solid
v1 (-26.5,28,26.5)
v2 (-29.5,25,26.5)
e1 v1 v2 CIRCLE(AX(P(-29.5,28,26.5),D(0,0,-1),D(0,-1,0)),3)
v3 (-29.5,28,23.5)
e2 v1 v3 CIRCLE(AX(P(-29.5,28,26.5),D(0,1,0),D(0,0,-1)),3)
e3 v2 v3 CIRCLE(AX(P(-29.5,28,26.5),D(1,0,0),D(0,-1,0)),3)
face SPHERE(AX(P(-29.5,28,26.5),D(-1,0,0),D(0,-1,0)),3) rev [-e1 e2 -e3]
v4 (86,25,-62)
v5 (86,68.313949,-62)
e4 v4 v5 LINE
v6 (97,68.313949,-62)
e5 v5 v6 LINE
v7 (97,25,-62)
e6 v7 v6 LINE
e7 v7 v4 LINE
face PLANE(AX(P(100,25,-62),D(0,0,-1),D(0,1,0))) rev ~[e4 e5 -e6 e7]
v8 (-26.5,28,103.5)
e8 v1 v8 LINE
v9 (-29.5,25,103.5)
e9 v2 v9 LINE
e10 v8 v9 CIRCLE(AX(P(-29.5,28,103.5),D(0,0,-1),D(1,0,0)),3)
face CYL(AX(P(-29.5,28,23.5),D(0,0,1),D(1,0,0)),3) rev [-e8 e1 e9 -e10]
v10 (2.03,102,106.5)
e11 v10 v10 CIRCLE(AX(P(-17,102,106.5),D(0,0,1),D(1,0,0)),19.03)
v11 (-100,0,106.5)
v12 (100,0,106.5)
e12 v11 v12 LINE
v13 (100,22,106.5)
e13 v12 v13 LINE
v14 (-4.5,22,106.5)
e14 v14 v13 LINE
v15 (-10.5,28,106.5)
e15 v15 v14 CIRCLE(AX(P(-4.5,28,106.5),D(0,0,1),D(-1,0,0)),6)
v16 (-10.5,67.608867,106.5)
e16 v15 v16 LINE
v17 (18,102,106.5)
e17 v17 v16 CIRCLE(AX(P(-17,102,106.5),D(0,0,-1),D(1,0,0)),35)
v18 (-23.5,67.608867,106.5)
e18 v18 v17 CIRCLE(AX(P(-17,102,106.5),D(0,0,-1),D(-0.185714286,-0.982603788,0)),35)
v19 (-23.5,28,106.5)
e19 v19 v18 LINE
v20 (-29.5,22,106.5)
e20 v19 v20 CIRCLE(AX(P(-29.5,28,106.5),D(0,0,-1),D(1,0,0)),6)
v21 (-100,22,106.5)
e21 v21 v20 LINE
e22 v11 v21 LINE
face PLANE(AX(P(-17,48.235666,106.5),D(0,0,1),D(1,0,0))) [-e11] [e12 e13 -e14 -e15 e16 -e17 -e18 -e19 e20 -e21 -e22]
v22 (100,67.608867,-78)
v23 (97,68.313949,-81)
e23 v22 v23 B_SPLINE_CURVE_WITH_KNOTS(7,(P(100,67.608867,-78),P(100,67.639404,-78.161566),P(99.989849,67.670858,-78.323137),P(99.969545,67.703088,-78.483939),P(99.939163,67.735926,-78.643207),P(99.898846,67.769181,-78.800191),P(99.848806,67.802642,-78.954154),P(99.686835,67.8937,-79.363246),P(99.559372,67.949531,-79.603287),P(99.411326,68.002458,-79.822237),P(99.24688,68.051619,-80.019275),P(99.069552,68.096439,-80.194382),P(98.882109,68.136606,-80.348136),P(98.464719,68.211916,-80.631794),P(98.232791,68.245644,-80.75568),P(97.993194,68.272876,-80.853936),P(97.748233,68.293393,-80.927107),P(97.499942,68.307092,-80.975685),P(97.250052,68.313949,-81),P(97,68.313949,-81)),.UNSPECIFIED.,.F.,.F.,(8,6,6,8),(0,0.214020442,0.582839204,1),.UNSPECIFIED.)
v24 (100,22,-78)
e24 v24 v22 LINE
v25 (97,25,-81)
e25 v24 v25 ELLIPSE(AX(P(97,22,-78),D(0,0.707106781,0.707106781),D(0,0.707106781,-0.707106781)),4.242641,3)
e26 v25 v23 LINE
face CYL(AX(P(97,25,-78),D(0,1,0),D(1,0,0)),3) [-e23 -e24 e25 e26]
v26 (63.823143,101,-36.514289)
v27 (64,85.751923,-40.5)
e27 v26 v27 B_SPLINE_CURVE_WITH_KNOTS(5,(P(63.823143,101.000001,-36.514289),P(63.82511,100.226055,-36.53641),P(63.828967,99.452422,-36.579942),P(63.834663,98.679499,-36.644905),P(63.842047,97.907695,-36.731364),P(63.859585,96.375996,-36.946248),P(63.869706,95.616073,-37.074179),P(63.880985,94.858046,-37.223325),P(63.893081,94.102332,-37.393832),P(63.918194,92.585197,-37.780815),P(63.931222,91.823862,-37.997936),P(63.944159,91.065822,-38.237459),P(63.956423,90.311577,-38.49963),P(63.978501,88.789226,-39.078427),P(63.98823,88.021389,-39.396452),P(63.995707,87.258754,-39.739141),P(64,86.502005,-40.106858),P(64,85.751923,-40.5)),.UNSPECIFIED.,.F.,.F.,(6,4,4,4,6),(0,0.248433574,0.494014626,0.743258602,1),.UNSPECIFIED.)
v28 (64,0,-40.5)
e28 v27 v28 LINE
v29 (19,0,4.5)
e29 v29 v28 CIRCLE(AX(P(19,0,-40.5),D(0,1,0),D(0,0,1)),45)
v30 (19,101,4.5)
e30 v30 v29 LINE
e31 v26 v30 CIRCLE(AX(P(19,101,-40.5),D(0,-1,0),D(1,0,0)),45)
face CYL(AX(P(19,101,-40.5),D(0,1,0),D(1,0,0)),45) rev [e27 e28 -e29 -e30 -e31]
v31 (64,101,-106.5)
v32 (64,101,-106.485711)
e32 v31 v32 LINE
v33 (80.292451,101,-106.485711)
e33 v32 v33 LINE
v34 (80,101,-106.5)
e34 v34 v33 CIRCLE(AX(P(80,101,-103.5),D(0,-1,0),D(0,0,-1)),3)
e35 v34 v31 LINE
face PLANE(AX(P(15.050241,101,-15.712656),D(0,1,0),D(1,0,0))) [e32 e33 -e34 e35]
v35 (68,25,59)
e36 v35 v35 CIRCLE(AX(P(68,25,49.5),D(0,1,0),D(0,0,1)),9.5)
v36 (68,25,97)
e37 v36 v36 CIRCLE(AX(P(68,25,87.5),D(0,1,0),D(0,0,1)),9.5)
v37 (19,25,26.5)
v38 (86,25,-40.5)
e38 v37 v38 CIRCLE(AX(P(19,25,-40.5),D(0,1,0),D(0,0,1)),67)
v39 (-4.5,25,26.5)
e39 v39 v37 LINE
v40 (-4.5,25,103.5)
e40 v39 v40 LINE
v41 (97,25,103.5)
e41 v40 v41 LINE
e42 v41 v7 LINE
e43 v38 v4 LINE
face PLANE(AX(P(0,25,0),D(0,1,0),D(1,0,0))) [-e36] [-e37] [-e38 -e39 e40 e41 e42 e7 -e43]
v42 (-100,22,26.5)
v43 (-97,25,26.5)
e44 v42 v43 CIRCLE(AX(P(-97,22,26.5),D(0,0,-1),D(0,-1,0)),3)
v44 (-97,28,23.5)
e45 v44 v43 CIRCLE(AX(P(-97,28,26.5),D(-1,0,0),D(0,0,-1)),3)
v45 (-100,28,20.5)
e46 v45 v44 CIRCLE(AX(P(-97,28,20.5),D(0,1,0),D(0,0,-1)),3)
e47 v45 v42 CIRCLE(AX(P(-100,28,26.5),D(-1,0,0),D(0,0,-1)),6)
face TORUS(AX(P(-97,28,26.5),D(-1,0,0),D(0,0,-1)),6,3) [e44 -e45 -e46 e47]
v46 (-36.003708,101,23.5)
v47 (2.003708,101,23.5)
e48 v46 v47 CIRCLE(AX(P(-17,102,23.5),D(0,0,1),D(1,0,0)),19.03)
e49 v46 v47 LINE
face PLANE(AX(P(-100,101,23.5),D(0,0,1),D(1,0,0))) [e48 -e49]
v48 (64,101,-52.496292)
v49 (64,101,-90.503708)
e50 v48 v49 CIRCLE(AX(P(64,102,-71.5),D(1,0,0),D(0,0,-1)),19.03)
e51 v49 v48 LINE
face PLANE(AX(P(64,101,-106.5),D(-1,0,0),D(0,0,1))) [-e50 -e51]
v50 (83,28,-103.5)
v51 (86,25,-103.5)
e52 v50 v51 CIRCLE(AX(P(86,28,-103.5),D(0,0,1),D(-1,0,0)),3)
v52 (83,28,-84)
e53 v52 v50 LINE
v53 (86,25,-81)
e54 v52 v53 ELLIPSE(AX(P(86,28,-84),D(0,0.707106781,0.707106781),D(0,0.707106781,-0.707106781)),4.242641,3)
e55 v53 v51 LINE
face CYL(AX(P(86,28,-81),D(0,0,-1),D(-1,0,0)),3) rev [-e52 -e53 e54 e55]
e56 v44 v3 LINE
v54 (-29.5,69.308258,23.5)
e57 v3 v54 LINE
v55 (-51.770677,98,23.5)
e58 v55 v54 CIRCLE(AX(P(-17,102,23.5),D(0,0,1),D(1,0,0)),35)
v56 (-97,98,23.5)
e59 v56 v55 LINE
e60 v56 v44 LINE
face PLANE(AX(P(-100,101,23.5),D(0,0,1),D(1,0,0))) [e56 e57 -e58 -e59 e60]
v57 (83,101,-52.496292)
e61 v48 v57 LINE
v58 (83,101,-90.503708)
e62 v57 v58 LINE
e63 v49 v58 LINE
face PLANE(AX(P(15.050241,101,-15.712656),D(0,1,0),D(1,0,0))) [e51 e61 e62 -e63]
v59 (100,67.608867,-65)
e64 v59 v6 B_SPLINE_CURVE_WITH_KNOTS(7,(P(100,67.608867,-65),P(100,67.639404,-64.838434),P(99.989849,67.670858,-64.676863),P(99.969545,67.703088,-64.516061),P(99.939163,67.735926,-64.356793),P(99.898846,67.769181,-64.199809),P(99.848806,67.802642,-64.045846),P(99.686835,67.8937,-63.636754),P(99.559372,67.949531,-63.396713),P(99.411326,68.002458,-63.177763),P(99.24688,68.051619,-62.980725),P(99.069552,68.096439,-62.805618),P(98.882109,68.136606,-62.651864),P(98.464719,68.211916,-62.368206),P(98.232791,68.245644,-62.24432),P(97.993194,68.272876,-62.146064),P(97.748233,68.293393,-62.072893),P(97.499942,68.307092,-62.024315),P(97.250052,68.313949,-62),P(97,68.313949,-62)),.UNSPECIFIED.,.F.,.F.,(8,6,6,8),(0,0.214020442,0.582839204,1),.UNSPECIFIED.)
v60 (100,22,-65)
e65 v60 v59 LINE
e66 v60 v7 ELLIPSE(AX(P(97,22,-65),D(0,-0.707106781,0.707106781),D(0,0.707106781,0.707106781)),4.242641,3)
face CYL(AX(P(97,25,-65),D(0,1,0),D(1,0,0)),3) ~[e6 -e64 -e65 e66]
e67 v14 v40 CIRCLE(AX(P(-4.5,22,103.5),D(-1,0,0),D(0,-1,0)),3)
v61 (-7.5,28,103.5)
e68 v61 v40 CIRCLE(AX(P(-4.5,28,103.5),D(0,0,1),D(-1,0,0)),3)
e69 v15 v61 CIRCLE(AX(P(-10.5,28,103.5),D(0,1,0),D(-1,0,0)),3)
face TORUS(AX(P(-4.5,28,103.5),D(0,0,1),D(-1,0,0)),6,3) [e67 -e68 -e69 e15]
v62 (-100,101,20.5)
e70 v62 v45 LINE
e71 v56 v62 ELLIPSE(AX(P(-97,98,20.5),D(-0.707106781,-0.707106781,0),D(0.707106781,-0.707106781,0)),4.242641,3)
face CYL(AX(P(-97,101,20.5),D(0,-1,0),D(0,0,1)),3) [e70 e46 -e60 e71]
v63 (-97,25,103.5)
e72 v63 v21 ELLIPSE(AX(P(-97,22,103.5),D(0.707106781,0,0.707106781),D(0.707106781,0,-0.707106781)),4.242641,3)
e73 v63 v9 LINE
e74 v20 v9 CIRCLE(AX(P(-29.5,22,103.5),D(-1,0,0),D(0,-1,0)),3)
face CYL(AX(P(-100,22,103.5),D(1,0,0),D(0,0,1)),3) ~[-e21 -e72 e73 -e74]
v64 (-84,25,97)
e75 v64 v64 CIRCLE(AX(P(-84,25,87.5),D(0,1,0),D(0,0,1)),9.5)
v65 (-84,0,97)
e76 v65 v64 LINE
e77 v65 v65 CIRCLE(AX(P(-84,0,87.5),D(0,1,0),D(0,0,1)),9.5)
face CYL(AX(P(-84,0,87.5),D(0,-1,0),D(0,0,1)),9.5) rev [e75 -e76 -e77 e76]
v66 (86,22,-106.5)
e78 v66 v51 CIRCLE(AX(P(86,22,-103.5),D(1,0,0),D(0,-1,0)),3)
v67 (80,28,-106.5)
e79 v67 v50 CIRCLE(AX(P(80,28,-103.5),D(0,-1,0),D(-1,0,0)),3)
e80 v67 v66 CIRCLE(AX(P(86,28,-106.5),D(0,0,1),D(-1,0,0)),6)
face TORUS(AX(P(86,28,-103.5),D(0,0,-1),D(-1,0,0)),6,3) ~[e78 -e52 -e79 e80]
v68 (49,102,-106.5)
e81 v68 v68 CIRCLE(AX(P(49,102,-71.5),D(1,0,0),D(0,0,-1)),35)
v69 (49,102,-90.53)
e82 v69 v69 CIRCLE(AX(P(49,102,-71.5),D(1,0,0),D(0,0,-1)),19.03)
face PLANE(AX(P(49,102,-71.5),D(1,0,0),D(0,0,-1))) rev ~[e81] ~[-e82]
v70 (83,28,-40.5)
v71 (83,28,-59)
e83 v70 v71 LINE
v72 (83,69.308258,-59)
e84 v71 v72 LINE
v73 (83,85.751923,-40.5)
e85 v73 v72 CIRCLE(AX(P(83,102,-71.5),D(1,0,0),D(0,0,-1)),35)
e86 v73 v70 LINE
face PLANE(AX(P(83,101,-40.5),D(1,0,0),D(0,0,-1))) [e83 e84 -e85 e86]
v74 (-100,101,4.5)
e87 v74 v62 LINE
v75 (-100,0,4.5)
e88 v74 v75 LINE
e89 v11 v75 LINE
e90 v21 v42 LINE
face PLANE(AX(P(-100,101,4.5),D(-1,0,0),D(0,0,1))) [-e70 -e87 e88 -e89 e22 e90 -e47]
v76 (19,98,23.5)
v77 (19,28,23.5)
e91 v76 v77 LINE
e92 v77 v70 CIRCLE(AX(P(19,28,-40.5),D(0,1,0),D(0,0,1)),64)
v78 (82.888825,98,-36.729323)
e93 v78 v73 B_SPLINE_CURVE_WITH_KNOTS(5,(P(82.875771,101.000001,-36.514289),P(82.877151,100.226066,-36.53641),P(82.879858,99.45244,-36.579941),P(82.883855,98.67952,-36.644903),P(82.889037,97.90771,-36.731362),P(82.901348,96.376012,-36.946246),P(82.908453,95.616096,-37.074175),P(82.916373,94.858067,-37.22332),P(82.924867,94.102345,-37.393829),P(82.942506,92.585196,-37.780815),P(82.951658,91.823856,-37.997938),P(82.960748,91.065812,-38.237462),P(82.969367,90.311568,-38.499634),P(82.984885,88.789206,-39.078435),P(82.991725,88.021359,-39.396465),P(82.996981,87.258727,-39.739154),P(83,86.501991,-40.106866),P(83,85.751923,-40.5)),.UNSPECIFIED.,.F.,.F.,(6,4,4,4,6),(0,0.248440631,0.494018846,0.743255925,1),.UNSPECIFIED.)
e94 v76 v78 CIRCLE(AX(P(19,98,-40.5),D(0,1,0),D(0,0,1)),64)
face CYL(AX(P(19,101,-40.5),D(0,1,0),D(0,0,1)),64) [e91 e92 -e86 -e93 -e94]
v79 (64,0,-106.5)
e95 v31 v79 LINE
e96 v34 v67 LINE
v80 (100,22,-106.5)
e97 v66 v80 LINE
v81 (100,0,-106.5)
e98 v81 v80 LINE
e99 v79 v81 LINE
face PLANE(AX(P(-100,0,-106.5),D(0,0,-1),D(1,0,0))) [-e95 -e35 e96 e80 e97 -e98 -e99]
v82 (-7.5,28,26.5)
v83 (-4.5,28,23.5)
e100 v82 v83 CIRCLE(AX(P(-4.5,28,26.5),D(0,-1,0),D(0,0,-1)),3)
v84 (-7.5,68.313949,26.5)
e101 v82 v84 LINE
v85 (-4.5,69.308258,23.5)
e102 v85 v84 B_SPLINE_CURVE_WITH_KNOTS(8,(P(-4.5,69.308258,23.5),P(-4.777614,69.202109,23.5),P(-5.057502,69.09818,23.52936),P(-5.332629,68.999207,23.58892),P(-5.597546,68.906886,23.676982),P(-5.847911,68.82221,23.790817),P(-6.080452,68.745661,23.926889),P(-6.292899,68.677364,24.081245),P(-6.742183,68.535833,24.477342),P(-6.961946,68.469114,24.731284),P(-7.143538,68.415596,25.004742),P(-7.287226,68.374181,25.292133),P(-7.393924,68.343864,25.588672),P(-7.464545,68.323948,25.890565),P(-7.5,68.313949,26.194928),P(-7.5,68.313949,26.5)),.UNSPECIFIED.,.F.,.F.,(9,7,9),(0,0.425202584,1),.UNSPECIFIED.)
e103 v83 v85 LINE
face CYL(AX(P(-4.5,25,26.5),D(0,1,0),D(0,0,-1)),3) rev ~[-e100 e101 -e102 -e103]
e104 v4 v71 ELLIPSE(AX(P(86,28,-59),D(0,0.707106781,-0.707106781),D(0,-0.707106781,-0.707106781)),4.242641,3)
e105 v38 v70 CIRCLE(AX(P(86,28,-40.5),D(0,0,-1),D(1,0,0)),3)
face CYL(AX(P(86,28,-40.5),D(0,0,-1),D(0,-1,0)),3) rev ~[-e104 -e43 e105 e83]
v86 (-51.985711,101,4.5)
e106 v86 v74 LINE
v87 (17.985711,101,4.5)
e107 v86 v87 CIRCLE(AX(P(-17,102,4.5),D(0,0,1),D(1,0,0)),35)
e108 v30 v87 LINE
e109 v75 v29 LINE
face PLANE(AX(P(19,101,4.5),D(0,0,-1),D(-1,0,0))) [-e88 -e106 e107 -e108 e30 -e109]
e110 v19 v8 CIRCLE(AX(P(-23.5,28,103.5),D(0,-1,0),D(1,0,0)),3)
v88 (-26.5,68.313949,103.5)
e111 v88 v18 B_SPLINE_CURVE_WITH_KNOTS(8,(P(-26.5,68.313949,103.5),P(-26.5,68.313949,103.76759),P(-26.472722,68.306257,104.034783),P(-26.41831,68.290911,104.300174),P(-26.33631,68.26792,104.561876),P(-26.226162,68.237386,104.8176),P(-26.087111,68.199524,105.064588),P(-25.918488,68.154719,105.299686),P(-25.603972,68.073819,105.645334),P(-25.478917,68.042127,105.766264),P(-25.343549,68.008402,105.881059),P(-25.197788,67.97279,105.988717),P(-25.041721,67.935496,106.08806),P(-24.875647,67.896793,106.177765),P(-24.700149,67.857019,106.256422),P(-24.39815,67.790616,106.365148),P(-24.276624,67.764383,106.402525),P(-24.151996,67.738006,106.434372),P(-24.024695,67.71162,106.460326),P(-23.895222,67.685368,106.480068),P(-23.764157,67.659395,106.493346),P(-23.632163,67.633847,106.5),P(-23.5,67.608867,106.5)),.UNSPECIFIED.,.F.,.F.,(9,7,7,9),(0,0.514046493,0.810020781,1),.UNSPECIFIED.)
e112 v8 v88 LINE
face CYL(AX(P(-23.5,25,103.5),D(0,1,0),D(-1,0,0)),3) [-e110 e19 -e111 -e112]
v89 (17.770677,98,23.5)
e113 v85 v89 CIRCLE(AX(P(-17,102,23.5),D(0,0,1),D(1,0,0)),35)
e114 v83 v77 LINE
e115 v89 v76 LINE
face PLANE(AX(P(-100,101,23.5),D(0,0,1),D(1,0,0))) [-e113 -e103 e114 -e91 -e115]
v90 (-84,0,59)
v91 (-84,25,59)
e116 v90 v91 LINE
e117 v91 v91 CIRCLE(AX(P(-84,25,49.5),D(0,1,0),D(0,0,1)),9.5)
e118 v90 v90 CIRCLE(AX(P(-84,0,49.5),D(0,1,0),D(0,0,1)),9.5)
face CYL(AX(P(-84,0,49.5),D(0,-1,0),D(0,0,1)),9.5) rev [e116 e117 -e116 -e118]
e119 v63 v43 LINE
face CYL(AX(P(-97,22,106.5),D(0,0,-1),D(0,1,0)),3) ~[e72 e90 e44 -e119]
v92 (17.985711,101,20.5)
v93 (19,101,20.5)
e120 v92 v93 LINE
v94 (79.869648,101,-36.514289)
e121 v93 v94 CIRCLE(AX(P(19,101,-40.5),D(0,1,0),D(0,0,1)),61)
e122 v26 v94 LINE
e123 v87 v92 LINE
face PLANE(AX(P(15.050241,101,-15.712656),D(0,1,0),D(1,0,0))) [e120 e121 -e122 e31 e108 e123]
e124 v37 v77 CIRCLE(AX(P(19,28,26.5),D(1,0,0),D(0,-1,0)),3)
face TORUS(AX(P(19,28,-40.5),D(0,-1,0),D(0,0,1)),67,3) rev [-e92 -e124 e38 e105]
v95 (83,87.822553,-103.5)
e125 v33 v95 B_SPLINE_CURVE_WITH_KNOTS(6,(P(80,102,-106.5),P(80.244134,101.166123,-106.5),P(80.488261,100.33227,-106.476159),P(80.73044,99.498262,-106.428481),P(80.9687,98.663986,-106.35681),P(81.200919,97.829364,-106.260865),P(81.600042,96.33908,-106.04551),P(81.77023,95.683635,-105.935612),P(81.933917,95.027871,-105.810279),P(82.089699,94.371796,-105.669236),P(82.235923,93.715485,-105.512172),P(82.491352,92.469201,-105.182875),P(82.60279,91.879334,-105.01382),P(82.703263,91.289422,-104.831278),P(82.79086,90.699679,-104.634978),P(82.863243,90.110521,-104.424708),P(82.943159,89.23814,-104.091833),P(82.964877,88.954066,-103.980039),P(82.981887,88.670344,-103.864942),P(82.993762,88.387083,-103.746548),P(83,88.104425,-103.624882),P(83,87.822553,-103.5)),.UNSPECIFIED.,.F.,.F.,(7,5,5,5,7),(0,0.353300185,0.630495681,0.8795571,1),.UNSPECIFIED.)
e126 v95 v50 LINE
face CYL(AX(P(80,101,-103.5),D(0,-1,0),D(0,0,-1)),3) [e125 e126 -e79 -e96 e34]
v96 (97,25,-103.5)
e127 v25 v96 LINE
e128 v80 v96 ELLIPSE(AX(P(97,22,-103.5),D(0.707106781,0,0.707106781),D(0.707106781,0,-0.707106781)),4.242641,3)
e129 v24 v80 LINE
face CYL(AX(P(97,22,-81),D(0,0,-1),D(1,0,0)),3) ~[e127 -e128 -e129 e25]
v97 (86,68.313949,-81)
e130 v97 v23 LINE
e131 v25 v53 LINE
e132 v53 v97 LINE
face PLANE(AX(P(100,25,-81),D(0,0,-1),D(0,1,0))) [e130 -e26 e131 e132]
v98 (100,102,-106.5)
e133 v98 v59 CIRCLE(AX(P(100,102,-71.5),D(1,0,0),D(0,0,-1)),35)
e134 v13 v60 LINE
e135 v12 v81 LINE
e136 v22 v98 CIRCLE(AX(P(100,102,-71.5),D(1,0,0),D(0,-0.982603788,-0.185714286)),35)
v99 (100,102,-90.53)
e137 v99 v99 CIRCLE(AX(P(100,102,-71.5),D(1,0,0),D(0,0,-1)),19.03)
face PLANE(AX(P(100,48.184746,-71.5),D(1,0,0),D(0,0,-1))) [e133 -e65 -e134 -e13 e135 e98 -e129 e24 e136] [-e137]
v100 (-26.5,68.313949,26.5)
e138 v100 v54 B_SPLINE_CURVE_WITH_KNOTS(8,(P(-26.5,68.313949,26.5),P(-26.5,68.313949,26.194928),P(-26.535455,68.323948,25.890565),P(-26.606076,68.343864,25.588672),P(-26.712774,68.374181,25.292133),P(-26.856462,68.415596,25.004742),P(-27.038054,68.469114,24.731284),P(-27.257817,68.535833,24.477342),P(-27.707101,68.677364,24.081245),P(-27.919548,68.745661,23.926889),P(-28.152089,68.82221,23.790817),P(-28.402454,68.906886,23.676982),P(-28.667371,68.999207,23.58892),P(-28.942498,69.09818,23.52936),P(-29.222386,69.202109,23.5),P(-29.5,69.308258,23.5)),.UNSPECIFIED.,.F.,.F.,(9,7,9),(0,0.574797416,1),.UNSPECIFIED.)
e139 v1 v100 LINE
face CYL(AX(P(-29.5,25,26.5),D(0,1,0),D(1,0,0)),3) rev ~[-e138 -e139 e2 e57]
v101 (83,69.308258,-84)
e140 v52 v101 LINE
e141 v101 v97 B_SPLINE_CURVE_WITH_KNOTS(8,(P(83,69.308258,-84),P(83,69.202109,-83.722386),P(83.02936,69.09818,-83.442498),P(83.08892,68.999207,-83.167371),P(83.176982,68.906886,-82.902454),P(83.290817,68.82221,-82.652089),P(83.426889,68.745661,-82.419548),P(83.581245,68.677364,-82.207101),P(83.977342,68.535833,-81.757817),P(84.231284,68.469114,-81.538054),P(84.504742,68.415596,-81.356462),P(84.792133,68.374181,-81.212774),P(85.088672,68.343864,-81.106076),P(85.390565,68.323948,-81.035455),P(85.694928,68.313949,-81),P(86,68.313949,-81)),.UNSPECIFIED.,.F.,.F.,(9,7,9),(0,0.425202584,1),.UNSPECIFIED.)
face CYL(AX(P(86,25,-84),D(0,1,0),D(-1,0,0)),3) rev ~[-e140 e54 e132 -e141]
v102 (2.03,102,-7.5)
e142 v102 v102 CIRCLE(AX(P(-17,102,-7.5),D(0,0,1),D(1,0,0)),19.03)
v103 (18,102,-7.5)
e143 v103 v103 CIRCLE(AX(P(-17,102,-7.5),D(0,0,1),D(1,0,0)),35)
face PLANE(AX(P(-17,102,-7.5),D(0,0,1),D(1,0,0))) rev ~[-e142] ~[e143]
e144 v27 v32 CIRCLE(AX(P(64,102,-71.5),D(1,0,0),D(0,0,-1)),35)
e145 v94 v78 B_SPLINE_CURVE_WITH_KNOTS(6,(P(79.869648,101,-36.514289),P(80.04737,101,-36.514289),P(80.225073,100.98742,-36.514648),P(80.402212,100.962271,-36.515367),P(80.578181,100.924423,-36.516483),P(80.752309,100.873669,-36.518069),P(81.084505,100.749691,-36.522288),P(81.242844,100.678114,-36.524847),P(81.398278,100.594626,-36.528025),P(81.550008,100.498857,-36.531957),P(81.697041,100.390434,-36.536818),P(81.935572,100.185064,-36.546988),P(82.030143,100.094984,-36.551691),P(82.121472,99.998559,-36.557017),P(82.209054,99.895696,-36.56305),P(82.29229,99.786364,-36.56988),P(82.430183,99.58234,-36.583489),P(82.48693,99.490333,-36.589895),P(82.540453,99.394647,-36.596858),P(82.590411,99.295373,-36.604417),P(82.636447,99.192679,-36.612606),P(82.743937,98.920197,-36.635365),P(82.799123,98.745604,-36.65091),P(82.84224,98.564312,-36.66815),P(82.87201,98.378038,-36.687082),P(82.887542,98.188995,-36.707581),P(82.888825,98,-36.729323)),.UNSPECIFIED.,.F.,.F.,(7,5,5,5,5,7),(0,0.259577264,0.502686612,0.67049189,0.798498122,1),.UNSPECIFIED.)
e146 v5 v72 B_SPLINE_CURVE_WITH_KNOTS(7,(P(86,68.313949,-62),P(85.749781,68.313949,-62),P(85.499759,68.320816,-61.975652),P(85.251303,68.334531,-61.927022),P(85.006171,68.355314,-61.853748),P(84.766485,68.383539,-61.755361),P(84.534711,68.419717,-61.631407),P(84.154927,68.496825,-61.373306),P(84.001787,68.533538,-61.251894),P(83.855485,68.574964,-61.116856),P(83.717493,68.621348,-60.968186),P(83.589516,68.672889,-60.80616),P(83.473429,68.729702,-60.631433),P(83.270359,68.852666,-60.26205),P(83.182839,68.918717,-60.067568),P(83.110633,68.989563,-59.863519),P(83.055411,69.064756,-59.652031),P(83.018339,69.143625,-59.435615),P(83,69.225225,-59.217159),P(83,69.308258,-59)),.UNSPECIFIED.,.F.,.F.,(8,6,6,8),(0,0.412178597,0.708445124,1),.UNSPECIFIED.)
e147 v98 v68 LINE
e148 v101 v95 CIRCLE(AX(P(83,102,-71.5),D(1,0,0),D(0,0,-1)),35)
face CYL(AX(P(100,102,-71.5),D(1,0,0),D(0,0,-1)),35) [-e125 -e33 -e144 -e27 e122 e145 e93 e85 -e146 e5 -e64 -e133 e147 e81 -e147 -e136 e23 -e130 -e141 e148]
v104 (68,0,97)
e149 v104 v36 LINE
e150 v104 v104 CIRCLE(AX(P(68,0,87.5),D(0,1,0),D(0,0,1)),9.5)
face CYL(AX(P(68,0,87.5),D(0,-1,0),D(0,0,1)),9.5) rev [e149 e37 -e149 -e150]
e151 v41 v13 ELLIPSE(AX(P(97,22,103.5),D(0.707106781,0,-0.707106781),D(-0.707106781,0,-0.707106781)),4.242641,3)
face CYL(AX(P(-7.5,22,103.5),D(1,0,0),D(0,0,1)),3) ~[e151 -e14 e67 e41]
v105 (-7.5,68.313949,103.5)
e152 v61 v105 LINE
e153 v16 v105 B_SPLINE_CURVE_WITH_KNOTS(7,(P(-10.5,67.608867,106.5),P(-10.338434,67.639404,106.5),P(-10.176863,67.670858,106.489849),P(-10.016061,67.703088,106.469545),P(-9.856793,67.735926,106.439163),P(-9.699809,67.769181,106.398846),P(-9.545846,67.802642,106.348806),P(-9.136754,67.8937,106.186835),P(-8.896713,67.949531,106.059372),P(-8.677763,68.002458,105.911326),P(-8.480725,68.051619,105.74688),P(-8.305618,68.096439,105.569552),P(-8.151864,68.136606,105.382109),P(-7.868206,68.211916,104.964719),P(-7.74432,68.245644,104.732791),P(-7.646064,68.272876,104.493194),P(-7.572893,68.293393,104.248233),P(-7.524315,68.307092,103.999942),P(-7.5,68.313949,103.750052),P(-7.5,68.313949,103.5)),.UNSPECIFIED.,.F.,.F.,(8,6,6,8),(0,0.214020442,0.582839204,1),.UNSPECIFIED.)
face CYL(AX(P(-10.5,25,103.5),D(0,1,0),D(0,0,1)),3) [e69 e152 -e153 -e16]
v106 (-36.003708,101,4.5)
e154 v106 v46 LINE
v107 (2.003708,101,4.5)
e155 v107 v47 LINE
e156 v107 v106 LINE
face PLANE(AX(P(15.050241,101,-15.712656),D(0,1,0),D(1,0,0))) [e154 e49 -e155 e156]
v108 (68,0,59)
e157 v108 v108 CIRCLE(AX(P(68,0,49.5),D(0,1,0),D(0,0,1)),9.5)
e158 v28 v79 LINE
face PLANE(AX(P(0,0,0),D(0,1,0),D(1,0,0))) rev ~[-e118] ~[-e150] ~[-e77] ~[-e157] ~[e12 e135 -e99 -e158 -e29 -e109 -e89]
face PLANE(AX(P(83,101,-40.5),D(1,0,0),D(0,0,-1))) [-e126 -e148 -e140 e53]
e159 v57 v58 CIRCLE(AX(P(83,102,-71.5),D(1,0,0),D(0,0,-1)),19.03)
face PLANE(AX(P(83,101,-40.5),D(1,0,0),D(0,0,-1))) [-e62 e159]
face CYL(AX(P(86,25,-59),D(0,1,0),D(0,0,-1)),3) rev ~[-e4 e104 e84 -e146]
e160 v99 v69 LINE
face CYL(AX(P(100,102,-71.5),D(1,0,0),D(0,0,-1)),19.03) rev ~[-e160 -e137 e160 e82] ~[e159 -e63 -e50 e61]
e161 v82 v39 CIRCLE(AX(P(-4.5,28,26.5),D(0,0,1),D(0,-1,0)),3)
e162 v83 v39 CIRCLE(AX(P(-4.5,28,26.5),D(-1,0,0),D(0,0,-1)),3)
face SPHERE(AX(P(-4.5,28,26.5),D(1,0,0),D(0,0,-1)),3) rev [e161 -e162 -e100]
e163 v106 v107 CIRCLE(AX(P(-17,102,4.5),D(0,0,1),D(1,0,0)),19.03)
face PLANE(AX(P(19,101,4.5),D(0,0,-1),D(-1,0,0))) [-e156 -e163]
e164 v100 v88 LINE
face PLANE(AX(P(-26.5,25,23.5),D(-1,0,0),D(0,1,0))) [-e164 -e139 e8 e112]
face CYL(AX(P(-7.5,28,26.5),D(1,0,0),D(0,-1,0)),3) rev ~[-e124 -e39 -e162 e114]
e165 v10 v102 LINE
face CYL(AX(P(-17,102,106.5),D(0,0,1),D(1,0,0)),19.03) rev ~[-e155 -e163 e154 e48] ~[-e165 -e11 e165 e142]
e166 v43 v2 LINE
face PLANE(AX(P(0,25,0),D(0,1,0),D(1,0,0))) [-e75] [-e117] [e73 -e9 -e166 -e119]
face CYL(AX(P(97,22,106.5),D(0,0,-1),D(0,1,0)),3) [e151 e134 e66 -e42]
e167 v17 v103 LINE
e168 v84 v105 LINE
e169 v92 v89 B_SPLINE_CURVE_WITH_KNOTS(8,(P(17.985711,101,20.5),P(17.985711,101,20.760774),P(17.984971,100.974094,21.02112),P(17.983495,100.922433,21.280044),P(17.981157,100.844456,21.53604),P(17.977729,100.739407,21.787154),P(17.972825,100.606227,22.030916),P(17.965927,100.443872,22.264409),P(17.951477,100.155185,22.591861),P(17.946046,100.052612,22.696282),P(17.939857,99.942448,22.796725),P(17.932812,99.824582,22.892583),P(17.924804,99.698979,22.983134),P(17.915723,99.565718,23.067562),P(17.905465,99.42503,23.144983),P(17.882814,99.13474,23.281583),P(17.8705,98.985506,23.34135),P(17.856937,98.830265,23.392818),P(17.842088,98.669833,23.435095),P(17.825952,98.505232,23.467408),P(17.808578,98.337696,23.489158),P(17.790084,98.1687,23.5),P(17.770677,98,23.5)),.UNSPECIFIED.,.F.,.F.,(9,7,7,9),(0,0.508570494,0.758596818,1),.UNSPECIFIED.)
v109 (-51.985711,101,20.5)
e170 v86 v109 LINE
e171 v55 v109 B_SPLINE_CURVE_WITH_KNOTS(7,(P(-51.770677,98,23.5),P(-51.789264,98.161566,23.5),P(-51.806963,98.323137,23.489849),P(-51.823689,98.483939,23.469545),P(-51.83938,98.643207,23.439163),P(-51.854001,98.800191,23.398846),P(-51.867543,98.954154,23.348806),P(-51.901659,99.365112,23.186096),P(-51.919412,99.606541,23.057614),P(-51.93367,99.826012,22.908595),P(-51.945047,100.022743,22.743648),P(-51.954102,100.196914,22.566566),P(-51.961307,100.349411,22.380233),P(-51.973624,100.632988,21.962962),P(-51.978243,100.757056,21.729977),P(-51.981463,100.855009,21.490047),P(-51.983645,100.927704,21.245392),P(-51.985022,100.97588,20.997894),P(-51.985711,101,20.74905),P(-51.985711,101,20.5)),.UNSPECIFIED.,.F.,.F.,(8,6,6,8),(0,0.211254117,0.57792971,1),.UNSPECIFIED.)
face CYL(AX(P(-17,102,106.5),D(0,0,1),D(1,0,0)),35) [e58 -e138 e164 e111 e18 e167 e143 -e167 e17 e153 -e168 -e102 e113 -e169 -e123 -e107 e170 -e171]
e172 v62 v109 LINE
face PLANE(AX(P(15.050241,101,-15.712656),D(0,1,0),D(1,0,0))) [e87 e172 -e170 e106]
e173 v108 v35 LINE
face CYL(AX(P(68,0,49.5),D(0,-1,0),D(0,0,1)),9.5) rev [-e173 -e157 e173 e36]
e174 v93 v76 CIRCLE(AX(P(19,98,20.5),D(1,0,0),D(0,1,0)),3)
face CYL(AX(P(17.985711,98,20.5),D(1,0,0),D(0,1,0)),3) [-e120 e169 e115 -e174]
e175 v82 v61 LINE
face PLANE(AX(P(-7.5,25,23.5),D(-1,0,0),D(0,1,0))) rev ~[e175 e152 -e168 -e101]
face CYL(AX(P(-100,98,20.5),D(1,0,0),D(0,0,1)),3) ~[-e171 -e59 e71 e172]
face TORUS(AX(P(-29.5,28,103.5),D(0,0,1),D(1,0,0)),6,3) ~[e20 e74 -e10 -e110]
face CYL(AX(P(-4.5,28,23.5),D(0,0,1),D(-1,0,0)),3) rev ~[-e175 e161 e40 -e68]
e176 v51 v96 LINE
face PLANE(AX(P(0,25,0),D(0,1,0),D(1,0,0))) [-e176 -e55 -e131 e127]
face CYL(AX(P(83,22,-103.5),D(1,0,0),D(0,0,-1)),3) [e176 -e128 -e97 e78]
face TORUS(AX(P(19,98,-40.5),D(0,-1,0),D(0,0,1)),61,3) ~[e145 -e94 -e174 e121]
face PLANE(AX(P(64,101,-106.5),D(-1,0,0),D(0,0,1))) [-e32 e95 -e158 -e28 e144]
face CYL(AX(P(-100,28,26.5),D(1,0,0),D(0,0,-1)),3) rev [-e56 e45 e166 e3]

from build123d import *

# Parameters (mm, degrees)
SKETCH1_W           = 200
SKETCH1_H           = 213
SKETCH1_R           = 9.5
BOSS_EXTRUDE1_DEPTH = 25
SKETCH2_R           = 35
SKETCH2_R_2         = 19.03
BOSS_EXTRUDE2_DEPTH = 114
SKETCH3_R           = 35
SKETCH3_R_2         = 19.03
BOSS_EXTRUDE3_DEPTH = 51
CUT_EXTRUDE1_DEPTH  = 51
BOSS_EXTRUDE4_START = 76
BOSS_EXTRUDE4_DEPTH = 76
SKETCH5_W           = 19
SKETCH5_H           = 46.369491486
BOSS_EXTRUDE5_DEPTH = 17
BOSS_EXTRUDE6_START = -83
SKETCH6_W           = 19
SKETCH6_H           = 46.471332412
BOSS_EXTRUDE6_DEPTH = 83
FILLET3_R           = 3


with BuildPart() as part:
    # Sketch1 → Boss-Extrude1 (new body)
    with BuildSketch(Plane(origin=(0, 0, 0), x_dir=(1, 0, 0), z_dir=(0, 1, 0))):
        Rectangle(SKETCH1_W, SKETCH1_H)
        with Locations(Location((68, -49.5, 0), (0, 0, 270))):
            Circle(SKETCH1_R, mode=Mode.SUBTRACT)
        with Locations(Location((68, -87.5, 0), (0, 0, 270))):
            Circle(SKETCH1_R, mode=Mode.SUBTRACT)
        with Locations(Location((-84, -49.5, 0), (0, 0, 270))):
            Circle(SKETCH1_R, mode=Mode.SUBTRACT)
        with Locations(Location((-84, -87.5, 0), (0, 0, 270))):
            Circle(SKETCH1_R, mode=Mode.SUBTRACT)
    extrude(amount=BOSS_EXTRUDE1_DEPTH)

    # Sketch4 → Cut-Extrude1 (cut)
    with BuildSketch(Plane(origin=(0, 25, 0), x_dir=(1, 0, 0), z_dir=(0, 1, 0))):
        with BuildLine():
            Line((-100, 106.5), (-100, -4.5))
            Line((-100, -4.5), (19, -4.5))
            ThreePointArc((19, -4.5), (50.819805153, 8.680194847), (64, 40.5))
            Line((64, 40.5), (64, 106.5))
            Line((64, 106.5), (-100, 106.5))
        make_face()
    extrude(amount=-CUT_EXTRUDE1_DEPTH, mode=Mode.SUBTRACT)



with BuildPart() as body_2:
    # Sketch2 → Boss-Extrude2 (new body)
    with BuildSketch(Plane.XY.offset(106.5)):
        with Locations((-17, 102)):
            Circle(SKETCH2_R)
        with Locations((-17, 102)):
            Circle(SKETCH2_R_2, mode=Mode.SUBTRACT)
    extrude(amount=-BOSS_EXTRUDE2_DEPTH)


with BuildPart() as body_3:
    # Sketch3 → Boss-Extrude3 (new body)
    with BuildSketch(Plane(origin=(100, 0, 0), x_dir=(0, 0, -1), z_dir=(1, 0, 0))):
        with Locations((71.5, 102)):
            Circle(SKETCH3_R)
        with Locations((71.5, 102)):
            Circle(SKETCH3_R_2, mode=Mode.SUBTRACT)
    extrude(amount=-BOSS_EXTRUDE3_DEPTH)


with BuildPart() as part_1:
    add(part.part)

    add(body_2.part)  # Boss-Extrude4 merges body 2

    add(body_3.part)  # Boss-Extrude4 merges body 3
    # Sketch4<3> → Boss-Extrude4 (add)
    with BuildSketch(Plane(origin=(0, 25, 0), x_dir=(1, 0, 0), z_dir=(0, 1, 0)).offset(BOSS_EXTRUDE4_START)):
        with BuildLine():
            Line((-100, -4.5), (-100, -23.5))
            Line((-100, -23.5), (19, -23.5))
            ThreePointArc((19, -23.5), (64.254833996, -4.754833996), (83, 40.5))
            Line((83, 40.5), (83, 106.5))
            Line((83, 106.5), (64, 106.5))
            Line((64, 106.5), (64, 40.5))
            ThreePointArc((64, 40.5), (50.819805153, 8.680194847), (19, -4.5))
            Line((19, -4.5), (-100, -4.5))
        make_face()
    extrude(amount=-BOSS_EXTRUDE4_DEPTH)

    # Sketch5 → Boss-Extrude5 (add)
    with BuildSketch(Plane(origin=(100, 0, 0), x_dir=(0, 0, -1), z_dir=(1, 0, 0))):
        with Locations((71.5, 48.184745743)):
            Rectangle(SKETCH5_W, SKETCH5_H)
    extrude(amount=-BOSS_EXTRUDE5_DEPTH)

    # Sketch6 → Boss-Extrude6 (add)
    with BuildSketch(Plane.XY.offset(106.5).offset(BOSS_EXTRUDE6_START)):
        with Locations((-17, 48.235666206)):
            Rectangle(SKETCH6_W, SKETCH6_H)
    extrude(amount=BOSS_EXTRUDE6_DEPTH)

    # Fillet3
    fillet3_edges = [part_1.edges().sort_by_distance(p)[0] for p in [
        (83, 63, -106.5),
        (-7.5, 46.656974737, 106.5),
        (-26.5, 46.656974737, 106.5),
        (-100, 25, 65),
        (18.492855685, 101, 23.5),
        (83, 25, -51.25),
        (5.75, 25, 23.5),
        (100, 25, -93.75),
        (91.5, 25, -106.5),
        (83, 25, -93.75),
        (83, 46.656974737, -81),
        (100, 46.656974737, -81),
        (100, 46.656974737, -62),
        (83, 46.656974737, -62),
        (62.82302176, 101, 6.142713941),
        (64.254833996, 25, 4.754833996),
        (100, 25, 22.25),
        (46.25, 25, 106.5),
        (-7.5, 46.656974737, 23.5),
        (-7.5, 25, 65),
        (-63.25, 25, 106.5),
        (-63.25, 25, 23.5),
        (-26.5, 25, 65),
        (-26.5, 46.656974737, 23.5),
        (-100, 63, 23.5),
        (-75.992855685, 101, 23.5),
    ]]
    fillet(fillet3_edges, radius=FILLET3_R)


solid = part_1.part
